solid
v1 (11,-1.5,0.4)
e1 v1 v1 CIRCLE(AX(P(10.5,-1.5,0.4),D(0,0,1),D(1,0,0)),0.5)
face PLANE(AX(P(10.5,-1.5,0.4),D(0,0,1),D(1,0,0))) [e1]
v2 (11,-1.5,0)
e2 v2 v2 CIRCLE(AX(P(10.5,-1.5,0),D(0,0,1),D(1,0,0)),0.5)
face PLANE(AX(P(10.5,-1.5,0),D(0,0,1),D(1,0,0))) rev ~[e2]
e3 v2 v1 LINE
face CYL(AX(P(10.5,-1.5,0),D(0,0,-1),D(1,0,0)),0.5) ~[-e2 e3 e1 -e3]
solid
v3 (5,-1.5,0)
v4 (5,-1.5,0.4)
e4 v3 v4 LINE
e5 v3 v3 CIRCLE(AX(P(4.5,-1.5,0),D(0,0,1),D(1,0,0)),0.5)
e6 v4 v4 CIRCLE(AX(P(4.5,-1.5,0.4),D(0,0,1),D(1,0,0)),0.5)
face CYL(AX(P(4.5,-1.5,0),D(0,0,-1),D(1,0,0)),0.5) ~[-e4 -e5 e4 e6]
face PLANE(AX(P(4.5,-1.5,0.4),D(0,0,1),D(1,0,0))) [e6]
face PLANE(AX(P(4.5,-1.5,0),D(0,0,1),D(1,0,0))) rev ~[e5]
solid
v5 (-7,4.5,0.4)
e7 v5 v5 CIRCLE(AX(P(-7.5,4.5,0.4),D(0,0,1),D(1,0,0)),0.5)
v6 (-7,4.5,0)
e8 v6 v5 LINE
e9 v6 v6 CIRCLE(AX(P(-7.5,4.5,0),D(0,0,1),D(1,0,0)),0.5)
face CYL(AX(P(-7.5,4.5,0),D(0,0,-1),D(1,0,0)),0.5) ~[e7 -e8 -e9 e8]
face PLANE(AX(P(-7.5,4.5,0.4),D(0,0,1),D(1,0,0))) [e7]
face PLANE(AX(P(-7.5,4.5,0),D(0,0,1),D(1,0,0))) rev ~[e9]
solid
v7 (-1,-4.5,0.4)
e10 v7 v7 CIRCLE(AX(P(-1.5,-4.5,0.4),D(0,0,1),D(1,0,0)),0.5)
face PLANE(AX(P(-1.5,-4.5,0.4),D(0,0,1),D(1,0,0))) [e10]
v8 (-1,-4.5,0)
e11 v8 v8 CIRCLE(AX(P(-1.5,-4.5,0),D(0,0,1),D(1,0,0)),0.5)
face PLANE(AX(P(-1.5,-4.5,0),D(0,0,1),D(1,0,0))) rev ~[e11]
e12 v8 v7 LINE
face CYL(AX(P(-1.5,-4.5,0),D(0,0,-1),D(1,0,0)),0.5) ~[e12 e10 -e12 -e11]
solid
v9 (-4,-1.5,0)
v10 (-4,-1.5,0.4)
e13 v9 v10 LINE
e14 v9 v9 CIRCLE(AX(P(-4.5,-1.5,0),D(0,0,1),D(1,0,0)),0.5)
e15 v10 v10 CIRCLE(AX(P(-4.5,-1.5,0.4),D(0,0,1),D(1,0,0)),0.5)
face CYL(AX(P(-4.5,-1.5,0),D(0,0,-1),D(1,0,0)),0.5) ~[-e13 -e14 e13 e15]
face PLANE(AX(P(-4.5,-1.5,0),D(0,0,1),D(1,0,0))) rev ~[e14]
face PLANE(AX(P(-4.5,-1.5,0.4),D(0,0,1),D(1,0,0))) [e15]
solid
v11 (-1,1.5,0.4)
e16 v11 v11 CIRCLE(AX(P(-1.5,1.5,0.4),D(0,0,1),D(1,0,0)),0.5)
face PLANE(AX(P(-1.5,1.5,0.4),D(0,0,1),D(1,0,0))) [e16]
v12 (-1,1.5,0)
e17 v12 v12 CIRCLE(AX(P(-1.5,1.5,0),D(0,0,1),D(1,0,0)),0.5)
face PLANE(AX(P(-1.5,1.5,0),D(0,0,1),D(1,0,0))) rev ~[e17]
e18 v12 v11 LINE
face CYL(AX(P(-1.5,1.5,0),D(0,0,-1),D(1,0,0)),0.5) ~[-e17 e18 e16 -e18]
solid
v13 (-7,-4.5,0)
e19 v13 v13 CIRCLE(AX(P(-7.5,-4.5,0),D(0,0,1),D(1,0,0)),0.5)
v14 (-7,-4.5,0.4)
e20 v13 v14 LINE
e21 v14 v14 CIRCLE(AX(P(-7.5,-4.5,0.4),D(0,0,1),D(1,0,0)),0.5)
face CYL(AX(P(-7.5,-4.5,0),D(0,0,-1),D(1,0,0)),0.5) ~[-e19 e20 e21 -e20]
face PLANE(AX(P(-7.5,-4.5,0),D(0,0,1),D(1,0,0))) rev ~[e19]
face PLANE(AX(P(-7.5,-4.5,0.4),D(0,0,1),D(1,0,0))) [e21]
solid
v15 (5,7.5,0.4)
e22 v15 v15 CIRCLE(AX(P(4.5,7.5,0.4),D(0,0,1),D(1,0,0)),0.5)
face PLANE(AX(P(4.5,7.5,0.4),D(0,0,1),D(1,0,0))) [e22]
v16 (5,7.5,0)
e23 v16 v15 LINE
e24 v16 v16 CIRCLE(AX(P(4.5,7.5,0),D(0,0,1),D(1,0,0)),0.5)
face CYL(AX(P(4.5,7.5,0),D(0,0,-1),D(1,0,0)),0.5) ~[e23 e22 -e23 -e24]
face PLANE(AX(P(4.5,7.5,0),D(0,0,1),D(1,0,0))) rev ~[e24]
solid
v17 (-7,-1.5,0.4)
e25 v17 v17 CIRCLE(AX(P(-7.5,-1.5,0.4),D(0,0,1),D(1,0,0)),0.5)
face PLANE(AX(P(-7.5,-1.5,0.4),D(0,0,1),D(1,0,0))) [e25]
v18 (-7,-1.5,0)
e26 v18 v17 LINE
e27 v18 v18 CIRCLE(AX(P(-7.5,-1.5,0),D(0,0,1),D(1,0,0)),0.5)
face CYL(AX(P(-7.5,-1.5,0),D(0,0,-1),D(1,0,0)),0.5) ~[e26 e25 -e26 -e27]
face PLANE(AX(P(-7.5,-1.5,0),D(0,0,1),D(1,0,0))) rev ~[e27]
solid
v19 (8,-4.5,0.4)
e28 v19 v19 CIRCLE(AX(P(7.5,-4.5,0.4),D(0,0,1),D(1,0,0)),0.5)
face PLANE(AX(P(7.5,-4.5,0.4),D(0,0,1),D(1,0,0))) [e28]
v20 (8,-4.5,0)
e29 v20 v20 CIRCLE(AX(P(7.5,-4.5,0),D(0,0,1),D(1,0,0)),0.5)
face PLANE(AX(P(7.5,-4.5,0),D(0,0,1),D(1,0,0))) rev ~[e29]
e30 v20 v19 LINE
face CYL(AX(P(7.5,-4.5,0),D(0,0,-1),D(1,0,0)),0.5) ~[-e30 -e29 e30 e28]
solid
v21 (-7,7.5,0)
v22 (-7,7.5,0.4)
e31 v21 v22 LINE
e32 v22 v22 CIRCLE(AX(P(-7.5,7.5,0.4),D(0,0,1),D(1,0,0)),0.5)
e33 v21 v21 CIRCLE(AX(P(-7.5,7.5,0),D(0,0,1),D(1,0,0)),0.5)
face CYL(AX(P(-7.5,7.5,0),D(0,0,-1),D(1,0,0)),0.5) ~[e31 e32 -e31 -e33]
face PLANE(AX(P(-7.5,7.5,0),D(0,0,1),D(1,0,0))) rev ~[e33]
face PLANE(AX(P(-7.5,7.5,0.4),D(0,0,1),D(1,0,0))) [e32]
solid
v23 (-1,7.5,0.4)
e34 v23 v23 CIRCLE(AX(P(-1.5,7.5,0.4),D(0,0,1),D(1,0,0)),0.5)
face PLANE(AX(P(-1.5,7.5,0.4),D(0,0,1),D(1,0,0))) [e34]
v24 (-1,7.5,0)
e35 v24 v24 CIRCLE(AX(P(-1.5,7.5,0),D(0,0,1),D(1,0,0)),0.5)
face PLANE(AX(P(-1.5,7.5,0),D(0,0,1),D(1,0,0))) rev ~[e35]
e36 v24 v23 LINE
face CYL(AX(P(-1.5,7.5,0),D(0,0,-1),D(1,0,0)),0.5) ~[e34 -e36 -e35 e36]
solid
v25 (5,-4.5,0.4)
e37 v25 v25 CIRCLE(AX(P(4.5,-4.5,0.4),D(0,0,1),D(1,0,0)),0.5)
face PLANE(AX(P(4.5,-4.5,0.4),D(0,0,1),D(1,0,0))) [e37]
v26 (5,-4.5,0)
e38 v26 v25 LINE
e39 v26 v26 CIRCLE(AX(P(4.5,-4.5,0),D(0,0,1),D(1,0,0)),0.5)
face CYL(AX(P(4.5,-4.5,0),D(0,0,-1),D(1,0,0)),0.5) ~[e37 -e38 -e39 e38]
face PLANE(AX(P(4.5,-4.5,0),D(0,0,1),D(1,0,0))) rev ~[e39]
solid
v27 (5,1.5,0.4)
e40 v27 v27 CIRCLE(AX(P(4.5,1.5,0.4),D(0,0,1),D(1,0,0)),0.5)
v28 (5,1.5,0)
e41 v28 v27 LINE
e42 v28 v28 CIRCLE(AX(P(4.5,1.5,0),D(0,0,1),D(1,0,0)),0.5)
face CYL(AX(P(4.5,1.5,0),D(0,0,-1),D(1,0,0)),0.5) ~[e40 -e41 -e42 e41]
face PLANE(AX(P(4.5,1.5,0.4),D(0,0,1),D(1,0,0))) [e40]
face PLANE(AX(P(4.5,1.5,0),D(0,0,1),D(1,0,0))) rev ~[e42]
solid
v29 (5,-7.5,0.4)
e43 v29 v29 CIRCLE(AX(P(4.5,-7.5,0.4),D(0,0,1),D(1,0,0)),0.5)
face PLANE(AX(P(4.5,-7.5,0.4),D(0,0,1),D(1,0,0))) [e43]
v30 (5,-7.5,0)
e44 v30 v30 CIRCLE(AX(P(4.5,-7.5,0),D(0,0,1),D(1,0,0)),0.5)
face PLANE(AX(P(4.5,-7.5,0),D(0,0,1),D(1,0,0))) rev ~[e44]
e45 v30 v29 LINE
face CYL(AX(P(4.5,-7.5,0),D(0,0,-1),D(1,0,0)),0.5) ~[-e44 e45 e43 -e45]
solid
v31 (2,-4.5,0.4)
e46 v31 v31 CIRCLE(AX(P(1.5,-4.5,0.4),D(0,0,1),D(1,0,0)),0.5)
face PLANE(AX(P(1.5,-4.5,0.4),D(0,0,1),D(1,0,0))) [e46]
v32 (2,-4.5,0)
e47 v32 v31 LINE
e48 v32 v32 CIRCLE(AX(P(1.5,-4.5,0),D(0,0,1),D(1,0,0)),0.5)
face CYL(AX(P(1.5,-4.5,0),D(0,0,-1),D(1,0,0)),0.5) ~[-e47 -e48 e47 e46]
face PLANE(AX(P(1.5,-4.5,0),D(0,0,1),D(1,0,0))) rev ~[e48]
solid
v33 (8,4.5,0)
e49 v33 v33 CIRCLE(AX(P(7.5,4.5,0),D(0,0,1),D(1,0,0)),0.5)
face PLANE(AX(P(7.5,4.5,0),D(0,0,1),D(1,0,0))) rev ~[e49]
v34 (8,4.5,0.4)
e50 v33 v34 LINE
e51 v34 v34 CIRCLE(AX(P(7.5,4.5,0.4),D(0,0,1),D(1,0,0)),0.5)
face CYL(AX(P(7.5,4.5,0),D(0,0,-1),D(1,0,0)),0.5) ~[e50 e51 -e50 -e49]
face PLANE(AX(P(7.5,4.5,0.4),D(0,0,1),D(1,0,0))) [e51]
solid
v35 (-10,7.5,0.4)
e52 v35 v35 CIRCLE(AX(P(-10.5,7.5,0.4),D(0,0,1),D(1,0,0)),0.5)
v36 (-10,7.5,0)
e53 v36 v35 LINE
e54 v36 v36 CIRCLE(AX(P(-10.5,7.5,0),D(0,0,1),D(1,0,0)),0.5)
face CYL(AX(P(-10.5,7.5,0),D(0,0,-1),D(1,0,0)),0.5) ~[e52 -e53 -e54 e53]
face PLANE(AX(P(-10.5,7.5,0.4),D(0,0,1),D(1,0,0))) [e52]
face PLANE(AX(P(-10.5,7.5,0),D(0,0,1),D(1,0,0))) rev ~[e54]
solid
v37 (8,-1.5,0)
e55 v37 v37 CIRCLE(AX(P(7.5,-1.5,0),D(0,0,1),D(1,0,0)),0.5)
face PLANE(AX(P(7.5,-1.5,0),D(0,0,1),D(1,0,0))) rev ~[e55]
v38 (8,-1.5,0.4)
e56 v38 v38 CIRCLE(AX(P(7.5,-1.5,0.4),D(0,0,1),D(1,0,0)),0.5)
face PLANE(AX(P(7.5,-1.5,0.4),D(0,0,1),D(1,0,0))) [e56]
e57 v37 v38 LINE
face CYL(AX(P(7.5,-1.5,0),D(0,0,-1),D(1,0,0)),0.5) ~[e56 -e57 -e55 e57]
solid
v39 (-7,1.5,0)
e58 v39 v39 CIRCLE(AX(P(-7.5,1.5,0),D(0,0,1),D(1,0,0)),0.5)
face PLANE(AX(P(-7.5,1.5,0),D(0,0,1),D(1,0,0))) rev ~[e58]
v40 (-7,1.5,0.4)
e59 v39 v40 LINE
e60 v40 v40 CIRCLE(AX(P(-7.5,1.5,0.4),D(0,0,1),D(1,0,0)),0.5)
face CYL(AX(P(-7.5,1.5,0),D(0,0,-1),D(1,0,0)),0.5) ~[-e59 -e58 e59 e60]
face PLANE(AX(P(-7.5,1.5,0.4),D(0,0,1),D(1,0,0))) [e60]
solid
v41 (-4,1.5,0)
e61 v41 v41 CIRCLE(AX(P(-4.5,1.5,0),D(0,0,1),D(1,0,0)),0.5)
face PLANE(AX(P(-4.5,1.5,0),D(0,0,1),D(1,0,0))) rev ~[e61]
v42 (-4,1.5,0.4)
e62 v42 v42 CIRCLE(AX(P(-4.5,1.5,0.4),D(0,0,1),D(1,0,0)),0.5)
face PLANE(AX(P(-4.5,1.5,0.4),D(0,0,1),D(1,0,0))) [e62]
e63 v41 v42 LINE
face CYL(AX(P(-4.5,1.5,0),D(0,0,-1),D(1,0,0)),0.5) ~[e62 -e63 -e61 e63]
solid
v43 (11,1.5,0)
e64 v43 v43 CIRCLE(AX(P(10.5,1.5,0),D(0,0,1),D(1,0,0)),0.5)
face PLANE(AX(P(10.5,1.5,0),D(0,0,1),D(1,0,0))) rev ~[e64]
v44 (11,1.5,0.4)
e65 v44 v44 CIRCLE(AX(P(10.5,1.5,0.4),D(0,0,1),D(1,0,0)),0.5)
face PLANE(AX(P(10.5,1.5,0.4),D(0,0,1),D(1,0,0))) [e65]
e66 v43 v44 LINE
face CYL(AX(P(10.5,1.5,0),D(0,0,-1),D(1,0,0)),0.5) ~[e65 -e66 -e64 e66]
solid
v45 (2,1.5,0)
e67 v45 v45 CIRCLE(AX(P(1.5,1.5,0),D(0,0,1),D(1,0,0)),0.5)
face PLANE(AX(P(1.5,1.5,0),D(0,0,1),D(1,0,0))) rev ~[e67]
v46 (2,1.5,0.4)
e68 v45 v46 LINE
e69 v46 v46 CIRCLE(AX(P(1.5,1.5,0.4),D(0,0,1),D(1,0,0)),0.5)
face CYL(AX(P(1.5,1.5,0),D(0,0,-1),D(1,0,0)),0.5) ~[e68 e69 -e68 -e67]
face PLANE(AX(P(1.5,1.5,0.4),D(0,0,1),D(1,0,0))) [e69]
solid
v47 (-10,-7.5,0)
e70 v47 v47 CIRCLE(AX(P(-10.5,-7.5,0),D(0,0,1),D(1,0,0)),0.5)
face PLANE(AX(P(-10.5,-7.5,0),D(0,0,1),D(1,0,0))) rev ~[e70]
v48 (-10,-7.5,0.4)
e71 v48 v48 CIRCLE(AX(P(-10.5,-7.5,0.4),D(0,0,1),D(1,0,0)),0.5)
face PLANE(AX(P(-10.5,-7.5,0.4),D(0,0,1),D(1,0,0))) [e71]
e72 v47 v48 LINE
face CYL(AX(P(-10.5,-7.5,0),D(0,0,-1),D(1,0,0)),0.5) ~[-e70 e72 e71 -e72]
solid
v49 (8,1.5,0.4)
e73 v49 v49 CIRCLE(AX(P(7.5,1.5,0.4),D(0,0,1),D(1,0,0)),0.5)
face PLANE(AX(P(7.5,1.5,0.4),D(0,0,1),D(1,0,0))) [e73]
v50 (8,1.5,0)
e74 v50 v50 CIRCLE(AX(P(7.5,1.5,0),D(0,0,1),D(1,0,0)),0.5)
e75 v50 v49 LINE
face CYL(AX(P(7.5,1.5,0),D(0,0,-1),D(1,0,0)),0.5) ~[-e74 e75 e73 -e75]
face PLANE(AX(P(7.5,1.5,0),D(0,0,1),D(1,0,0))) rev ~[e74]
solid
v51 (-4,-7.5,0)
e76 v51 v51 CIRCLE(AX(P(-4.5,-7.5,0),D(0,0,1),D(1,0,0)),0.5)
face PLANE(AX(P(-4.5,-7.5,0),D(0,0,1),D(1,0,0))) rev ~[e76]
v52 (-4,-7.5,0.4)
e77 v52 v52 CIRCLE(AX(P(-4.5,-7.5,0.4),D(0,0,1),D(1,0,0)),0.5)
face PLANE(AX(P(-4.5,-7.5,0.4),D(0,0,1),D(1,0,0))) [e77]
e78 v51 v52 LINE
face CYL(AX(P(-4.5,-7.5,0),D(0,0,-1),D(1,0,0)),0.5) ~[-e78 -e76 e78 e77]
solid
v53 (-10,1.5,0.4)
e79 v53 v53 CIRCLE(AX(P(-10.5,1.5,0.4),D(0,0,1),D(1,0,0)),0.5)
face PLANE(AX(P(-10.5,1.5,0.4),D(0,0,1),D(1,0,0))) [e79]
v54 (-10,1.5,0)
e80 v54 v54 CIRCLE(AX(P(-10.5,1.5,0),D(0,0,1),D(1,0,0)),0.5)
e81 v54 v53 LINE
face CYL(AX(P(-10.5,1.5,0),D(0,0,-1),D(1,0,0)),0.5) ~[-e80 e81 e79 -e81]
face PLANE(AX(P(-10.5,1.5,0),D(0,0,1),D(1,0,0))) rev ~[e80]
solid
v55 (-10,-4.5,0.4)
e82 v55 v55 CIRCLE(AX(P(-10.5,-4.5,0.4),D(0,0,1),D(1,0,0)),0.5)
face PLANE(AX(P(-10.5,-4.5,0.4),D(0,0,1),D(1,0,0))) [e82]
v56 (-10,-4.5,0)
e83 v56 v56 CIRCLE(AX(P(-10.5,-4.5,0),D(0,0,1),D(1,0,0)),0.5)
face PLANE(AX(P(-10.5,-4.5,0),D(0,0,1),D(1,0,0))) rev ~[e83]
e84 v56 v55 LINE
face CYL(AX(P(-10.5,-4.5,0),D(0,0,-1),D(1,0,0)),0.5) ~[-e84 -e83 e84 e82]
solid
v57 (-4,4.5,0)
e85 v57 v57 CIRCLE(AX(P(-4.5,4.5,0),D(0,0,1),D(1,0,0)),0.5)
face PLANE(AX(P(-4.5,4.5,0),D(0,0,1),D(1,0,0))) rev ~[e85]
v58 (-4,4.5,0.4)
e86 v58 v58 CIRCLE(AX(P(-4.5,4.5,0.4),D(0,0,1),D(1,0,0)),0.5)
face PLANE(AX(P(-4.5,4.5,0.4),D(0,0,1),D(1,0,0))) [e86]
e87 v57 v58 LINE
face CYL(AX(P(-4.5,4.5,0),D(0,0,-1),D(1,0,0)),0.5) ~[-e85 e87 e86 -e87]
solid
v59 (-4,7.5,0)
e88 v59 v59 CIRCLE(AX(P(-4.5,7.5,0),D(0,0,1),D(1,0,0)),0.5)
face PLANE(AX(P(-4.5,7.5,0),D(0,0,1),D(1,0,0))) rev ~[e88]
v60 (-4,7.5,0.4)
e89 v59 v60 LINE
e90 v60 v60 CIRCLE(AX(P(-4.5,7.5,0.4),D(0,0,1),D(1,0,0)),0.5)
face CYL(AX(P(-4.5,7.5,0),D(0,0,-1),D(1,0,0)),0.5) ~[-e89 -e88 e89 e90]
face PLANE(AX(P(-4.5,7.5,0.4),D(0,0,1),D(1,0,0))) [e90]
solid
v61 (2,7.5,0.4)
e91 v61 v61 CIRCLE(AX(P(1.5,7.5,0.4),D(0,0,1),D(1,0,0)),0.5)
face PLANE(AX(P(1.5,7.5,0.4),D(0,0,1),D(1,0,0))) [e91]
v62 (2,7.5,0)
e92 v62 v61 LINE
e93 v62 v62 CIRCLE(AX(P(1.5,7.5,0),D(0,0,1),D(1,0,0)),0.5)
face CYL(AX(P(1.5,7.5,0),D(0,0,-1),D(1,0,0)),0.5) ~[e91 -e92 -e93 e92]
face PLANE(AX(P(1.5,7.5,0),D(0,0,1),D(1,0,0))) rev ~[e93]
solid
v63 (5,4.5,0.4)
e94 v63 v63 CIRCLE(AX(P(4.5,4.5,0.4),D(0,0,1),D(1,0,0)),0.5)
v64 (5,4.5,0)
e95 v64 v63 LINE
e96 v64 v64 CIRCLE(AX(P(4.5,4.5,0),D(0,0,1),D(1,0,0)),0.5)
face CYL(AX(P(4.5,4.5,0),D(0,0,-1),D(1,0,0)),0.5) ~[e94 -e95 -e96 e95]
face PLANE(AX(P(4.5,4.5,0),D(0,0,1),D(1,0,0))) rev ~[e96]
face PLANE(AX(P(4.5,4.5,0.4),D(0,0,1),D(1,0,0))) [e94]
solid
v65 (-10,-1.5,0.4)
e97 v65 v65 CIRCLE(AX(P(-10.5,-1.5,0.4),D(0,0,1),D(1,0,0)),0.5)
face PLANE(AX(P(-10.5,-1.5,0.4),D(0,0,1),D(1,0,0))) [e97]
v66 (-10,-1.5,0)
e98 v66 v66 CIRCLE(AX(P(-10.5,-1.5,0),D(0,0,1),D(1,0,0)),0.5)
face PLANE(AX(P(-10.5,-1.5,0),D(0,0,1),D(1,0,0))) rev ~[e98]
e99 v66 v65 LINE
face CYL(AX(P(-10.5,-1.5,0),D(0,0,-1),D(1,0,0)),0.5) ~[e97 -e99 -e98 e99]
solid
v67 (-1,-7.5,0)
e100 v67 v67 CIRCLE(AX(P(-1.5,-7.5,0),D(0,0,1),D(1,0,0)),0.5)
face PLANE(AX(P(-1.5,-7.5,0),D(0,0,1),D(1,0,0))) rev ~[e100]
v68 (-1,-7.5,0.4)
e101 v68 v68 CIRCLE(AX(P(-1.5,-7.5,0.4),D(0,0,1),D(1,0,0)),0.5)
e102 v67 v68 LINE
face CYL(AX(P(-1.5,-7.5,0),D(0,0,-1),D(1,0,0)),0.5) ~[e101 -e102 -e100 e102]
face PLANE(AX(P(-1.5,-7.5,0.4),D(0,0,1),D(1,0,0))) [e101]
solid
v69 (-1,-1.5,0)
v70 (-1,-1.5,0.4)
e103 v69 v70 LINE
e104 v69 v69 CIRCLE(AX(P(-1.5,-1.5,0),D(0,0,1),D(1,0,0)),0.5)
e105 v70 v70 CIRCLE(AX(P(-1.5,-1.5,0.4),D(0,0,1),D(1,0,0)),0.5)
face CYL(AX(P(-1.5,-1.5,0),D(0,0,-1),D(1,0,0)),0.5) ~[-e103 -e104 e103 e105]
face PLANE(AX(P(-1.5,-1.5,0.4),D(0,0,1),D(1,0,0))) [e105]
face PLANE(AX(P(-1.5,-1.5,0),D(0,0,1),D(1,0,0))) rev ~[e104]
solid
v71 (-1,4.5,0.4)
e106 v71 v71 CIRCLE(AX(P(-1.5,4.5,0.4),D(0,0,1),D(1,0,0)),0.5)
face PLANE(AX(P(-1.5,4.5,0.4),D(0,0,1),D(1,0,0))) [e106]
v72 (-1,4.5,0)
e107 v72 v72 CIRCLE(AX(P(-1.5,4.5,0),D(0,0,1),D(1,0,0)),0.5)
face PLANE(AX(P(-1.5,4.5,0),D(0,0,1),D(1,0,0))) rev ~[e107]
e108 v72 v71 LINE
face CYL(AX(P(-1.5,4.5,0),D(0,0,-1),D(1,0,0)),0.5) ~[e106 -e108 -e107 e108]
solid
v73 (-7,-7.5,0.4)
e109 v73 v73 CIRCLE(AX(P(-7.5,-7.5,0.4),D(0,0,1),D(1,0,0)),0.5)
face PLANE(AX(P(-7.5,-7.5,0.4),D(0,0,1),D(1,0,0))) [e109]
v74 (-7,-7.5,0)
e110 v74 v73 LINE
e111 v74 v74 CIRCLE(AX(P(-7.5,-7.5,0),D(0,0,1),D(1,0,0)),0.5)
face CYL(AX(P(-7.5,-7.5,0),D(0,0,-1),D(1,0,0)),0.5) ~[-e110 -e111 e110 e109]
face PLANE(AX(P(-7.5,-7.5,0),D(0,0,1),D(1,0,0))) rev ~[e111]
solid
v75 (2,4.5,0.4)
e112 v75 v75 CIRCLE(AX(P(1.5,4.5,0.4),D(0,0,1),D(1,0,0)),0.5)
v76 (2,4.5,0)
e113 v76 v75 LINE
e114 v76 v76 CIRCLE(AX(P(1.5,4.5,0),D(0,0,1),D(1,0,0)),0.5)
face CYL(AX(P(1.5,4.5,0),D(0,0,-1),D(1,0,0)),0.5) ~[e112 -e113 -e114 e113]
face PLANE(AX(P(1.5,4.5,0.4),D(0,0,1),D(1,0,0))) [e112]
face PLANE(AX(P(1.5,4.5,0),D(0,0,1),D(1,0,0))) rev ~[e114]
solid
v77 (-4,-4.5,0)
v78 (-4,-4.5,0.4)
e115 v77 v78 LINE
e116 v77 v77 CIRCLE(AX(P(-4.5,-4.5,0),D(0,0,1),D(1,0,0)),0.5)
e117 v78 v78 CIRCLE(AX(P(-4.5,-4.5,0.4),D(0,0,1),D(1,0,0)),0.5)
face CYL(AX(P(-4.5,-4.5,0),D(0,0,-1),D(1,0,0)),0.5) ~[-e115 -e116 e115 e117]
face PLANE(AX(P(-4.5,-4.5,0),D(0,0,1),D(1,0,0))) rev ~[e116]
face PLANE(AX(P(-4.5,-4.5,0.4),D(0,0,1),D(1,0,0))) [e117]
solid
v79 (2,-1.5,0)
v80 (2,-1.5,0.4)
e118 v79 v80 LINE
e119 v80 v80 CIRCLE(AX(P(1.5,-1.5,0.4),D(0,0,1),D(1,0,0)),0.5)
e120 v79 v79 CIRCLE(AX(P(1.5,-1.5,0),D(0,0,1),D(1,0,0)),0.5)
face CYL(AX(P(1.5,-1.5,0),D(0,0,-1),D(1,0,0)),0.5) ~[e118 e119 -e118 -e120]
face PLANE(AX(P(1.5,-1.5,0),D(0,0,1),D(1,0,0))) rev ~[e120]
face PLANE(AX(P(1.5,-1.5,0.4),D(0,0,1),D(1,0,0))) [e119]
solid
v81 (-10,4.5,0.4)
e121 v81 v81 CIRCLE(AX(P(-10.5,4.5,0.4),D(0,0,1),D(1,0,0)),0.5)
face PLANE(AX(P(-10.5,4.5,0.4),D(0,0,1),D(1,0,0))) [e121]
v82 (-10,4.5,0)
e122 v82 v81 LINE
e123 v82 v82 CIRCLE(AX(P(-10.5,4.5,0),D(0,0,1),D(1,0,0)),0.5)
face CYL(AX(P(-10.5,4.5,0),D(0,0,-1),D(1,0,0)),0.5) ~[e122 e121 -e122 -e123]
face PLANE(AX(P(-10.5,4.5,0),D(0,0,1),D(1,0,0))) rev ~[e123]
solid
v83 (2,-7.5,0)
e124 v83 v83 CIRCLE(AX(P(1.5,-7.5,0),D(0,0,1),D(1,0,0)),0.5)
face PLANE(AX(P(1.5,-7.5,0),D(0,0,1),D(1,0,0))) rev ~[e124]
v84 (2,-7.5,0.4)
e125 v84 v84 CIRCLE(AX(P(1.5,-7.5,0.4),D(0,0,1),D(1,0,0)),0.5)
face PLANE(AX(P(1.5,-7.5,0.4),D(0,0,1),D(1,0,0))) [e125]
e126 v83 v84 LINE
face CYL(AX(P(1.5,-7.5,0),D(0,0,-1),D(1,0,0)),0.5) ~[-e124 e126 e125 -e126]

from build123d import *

# Parameters (mm, degrees)
SKETCH_1_R         = 0.5
EXTRUDE_1_DEPTH    = 0.4
EXTRUDE_1_2_DEPTH  = 0.4
EXTRUDE_1_3_DEPTH  = 0.4
EXTRUDE_1_4_DEPTH  = 0.4
EXTRUDE_1_5_DEPTH  = 0.4
EXTRUDE_1_6_DEPTH  = 0.4
EXTRUDE_1_7_DEPTH  = 0.4
EXTRUDE_1_8_DEPTH  = 0.4
EXTRUDE_1_9_DEPTH  = 0.4
EXTRUDE_1_10_DEPTH = 0.4
EXTRUDE_1_11_DEPTH = 0.4
EXTRUDE_1_12_DEPTH = 0.4
EXTRUDE_1_13_DEPTH = 0.4
EXTRUDE_1_14_DEPTH = 0.4
EXTRUDE_1_15_DEPTH = 0.4
EXTRUDE_1_16_DEPTH = 0.4
EXTRUDE_1_17_DEPTH = 0.4
EXTRUDE_1_18_DEPTH = 0.4
EXTRUDE_1_19_DEPTH = 0.4
EXTRUDE_1_20_DEPTH = 0.4
EXTRUDE_1_21_DEPTH = 0.4
EXTRUDE_1_22_DEPTH = 0.4
EXTRUDE_1_23_DEPTH = 0.4
EXTRUDE_1_24_DEPTH = 0.4
EXTRUDE_1_25_DEPTH = 0.4
EXTRUDE_1_26_DEPTH = 0.4
EXTRUDE_1_27_DEPTH = 0.4
EXTRUDE_1_28_DEPTH = 0.4
EXTRUDE_1_29_DEPTH = 0.4
EXTRUDE_1_30_DEPTH = 0.4
EXTRUDE_1_31_DEPTH = 0.4
EXTRUDE_1_32_DEPTH = 0.4
EXTRUDE_1_33_DEPTH = 0.4
EXTRUDE_1_34_DEPTH = 0.4
EXTRUDE_1_35_DEPTH = 0.4
EXTRUDE_1_36_DEPTH = 0.4
EXTRUDE_1_37_DEPTH = 0.4
EXTRUDE_1_38_DEPTH = 0.4
EXTRUDE_1_39_DEPTH = 0.4
EXTRUDE_1_40_DEPTH = 0.4
EXTRUDE_1_41_DEPTH = 0.4
EXTRUDE_1_42_DEPTH = 0.4


with BuildPart() as part:
    # 草图1 → 凸台-拉伸1 (new body)
    with BuildSketch(Plane.XY):
        with Locations((-4.5, 1.5)):
            Circle(SKETCH_1_R)
    extrude(amount=EXTRUDE_1_DEPTH)


with BuildPart() as body_2:
    # 草图1 → Extrude 1 2 (new body)
    with BuildSketch(Plane.XY):
        with Locations((-1.5, 1.5)):
            Circle(SKETCH_1_R)
    extrude(amount=EXTRUDE_1_2_DEPTH)


with BuildPart() as body_3:
    # 草图1 → Extrude 1 3 (new body)
    with BuildSketch(Plane.XY):
        with Locations((1.5, 1.5)):
            Circle(SKETCH_1_R)
    extrude(amount=EXTRUDE_1_3_DEPTH)


with BuildPart() as body_4:
    # 草图1 → Extrude 1 4 (new body)
    with BuildSketch(Plane.XY):
        with Locations((4.5, 1.5)):
            Circle(SKETCH_1_R)
    extrude(amount=EXTRUDE_1_4_DEPTH)


with BuildPart() as body_5:
    # 草图1 → Extrude 1 5 (new body)
    with BuildSketch(Plane.XY):
        with Locations((7.5, 1.5)):
            Circle(SKETCH_1_R)
    extrude(amount=EXTRUDE_1_5_DEPTH)


with BuildPart() as body_6:
    # 草图1 → Extrude 1 6 (new body)
    with BuildSketch(Plane.XY):
        with Locations((10.5, 1.5)):
            Circle(SKETCH_1_R)
    extrude(amount=EXTRUDE_1_6_DEPTH)


with BuildPart() as body_7:
    # 草图1 → Extrude 1 7 (new body)
    with BuildSketch(Plane.XY):
        with Locations((10.5, -1.5)):
            Circle(SKETCH_1_R)
    extrude(amount=EXTRUDE_1_7_DEPTH)


with BuildPart() as body_8:
    # 草图1 → Extrude 1 8 (new body)
    with BuildSketch(Plane.XY):
        with Locations((7.5, -1.5)):
            Circle(SKETCH_1_R)
    extrude(amount=EXTRUDE_1_8_DEPTH)


with BuildPart() as body_9:
    # 草图1 → Extrude 1 9 (new body)
    with BuildSketch(Plane.XY):
        with Locations((-10.5, 7.5)):
            Circle(SKETCH_1_R)
    extrude(amount=EXTRUDE_1_9_DEPTH)


with BuildPart() as body_10:
    # 草图1 → Extrude 1 10 (new body)
    with BuildSketch(Plane.XY):
        with Locations((-1.5, 7.5)):
            Circle(SKETCH_1_R)
    extrude(amount=EXTRUDE_1_10_DEPTH)


with BuildPart() as body_11:
    # 草图1 → Extrude 1 11 (new body)
    with BuildSketch(Plane.XY):
        with Locations((1.5, 7.5)):
            Circle(SKETCH_1_R)
    extrude(amount=EXTRUDE_1_11_DEPTH)


with BuildPart() as body_12:
    # 草图1 → Extrude 1 12 (new body)
    with BuildSketch(Plane.XY):
        with Locations((4.5, 7.5)):
            Circle(SKETCH_1_R)
    extrude(amount=EXTRUDE_1_12_DEPTH)


with BuildPart() as body_13:
    # 草图1 → Extrude 1 13 (new body)
    with BuildSketch(Plane.XY):
        with Locations((-10.5, 1.5)):
            Circle(SKETCH_1_R)
    extrude(amount=EXTRUDE_1_13_DEPTH)


with BuildPart() as body_14:
    # 草图1 → Extrude 1 14 (new body)
    with BuildSketch(Plane.XY):
        with Locations((-10.5, 4.5)):
            Circle(SKETCH_1_R)
    extrude(amount=EXTRUDE_1_14_DEPTH)


with BuildPart() as body_15:
    # 草图1 → Extrude 1 15 (new body)
    with BuildSketch(Plane.XY):
        with Locations((-10.5, -1.5)):
            Circle(SKETCH_1_R)
    extrude(amount=EXTRUDE_1_15_DEPTH)


with BuildPart() as body_16:
    # 草图1 → Extrude 1 16 (new body)
    with BuildSketch(Plane.XY):
        with Locations((-10.5, -4.5)):
            Circle(SKETCH_1_R)
    extrude(amount=EXTRUDE_1_16_DEPTH)


with BuildPart() as body_17:
    # 草图1 → Extrude 1 17 (new body)
    with BuildSketch(Plane.XY):
        with Locations((-10.5, -7.5)):
            Circle(SKETCH_1_R)
    extrude(amount=EXTRUDE_1_17_DEPTH)


with BuildPart() as body_18:
    # 草图1 → Extrude 1 18 (new body)
    with BuildSketch(Plane.XY):
        with Locations((-7.5, -7.5)):
            Circle(SKETCH_1_R)
    extrude(amount=EXTRUDE_1_18_DEPTH)


with BuildPart() as body_19:
    # 草图1 → Extrude 1 19 (new body)
    with BuildSketch(Plane.XY):
        with Locations((-7.5, -4.5)):
            Circle(SKETCH_1_R)
    extrude(amount=EXTRUDE_1_19_DEPTH)


with BuildPart() as body_20:
    # 草图1 → Extrude 1 20 (new body)
    with BuildSketch(Plane.XY):
        with Locations((-7.5, -1.5)):
            Circle(SKETCH_1_R)
    extrude(amount=EXTRUDE_1_20_DEPTH)


with BuildPart() as body_21:
    # 草图1 → Extrude 1 21 (new body)
    with BuildSketch(Plane.XY):
        with Locations((-7.5, 1.5)):
            Circle(SKETCH_1_R)
    extrude(amount=EXTRUDE_1_21_DEPTH)


with BuildPart() as body_22:
    # 草图1 → Extrude 1 22 (new body)
    with BuildSketch(Plane.XY):
        with Locations((-7.5, 4.5)):
            Circle(SKETCH_1_R)
    extrude(amount=EXTRUDE_1_22_DEPTH)


with BuildPart() as body_23:
    # 草图1 → Extrude 1 23 (new body)
    with BuildSketch(Plane.XY):
        with Locations((-4.5, 4.5)):
            Circle(SKETCH_1_R)
    extrude(amount=EXTRUDE_1_23_DEPTH)


with BuildPart() as body_24:
    # 草图1 → Extrude 1 24 (new body)
    with BuildSketch(Plane.XY):
        with Locations((-1.5, 4.5)):
            Circle(SKETCH_1_R)
    extrude(amount=EXTRUDE_1_24_DEPTH)


with BuildPart() as body_25:
    # 草图1 → Extrude 1 25 (new body)
    with BuildSketch(Plane.XY):
        with Locations((1.5, 4.5)):
            Circle(SKETCH_1_R)
    extrude(amount=EXTRUDE_1_25_DEPTH)


with BuildPart() as body_26:
    # 草图1 → Extrude 1 26 (new body)
    with BuildSketch(Plane.XY):
        with Locations((7.5, 4.5)):
            Circle(SKETCH_1_R)
    extrude(amount=EXTRUDE_1_26_DEPTH)


with BuildPart() as body_27:
    # 草图1 → Extrude 1 27 (new body)
    with BuildSketch(Plane.XY):
        with Locations((1.5, -1.5)):
            Circle(SKETCH_1_R)
    extrude(amount=EXTRUDE_1_27_DEPTH)


with BuildPart() as body_28:
    # 草图1 → Extrude 1 28 (new body)
    with BuildSketch(Plane.XY):
        with Locations((-1.5, -1.5)):
            Circle(SKETCH_1_R)
    extrude(amount=EXTRUDE_1_28_DEPTH)


with BuildPart() as body_29:
    # 草图1 → Extrude 1 29 (new body)
    with BuildSketch(Plane.XY):
        with Locations((-4.5, -1.5)):
            Circle(SKETCH_1_R)
    extrude(amount=EXTRUDE_1_29_DEPTH)


with BuildPart() as body_30:
    # 草图1 → Extrude 1 30 (new body)
    with BuildSketch(Plane.XY):
        with Locations((-4.5, -4.5)):
            Circle(SKETCH_1_R)
    extrude(amount=EXTRUDE_1_30_DEPTH)


with BuildPart() as body_31:
    # 草图1 → Extrude 1 31 (new body)
    with BuildSketch(Plane.XY):
        with Locations((-1.5, -4.5)):
            Circle(SKETCH_1_R)
    extrude(amount=EXTRUDE_1_31_DEPTH)


with BuildPart() as body_32:
    # 草图1 → Extrude 1 32 (new body)
    with BuildSketch(Plane.XY):
        with Locations((-4.5, -7.5)):
            Circle(SKETCH_1_R)
    extrude(amount=EXTRUDE_1_32_DEPTH)


with BuildPart() as body_33:
    # 草图1 → Extrude 1 33 (new body)
    with BuildSketch(Plane.XY):
        with Locations((-1.5, -7.5)):
            Circle(SKETCH_1_R)
    extrude(amount=EXTRUDE_1_33_DEPTH)


with BuildPart() as body_34:
    # 草图1 → Extrude 1 34 (new body)
    with BuildSketch(Plane.XY):
        with Locations((1.5, -7.5)):
            Circle(SKETCH_1_R)
    extrude(amount=EXTRUDE_1_34_DEPTH)


with BuildPart() as body_35:
    # 草图1 → Extrude 1 35 (new body)
    with BuildSketch(Plane.XY):
        with Locations((4.5, -7.5)):
            Circle(SKETCH_1_R)
    extrude(amount=EXTRUDE_1_35_DEPTH)


with BuildPart() as body_36:
    # 草图1 → Extrude 1 36 (new body)
    with BuildSketch(Plane.XY):
        with Locations((4.5, -4.5)):
            Circle(SKETCH_1_R)
    extrude(amount=EXTRUDE_1_36_DEPTH)


with BuildPart() as body_37:
    # 草图1 → Extrude 1 37 (new body)
    with BuildSketch(Plane.XY):
        with Locations((7.5, -4.5)):
            Circle(SKETCH_1_R)
    extrude(amount=EXTRUDE_1_37_DEPTH)


with BuildPart() as body_38:
    # 草图1 → Extrude 1 38 (new body)
    with BuildSketch(Plane.XY):
        with Locations((4.5, -1.5)):
            Circle(SKETCH_1_R)
    extrude(amount=EXTRUDE_1_38_DEPTH)


with BuildPart() as body_39:
    # 草图1 → Extrude 1 39 (new body)
    with BuildSketch(Plane.XY):
        with Locations((-7.5, 7.5)):
            Circle(SKETCH_1_R)
    extrude(amount=EXTRUDE_1_39_DEPTH)


with BuildPart() as body_40:
    # 草图1 → Extrude 1 40 (new body)
    with BuildSketch(Plane.XY):
        with Locations((-4.5, 7.5)):
            Circle(SKETCH_1_R)
    extrude(amount=EXTRUDE_1_40_DEPTH)


with BuildPart() as body_41:
    # 草图1 → Extrude 1 41 (new body)
    with BuildSketch(Plane.XY):
        with Locations((4.5, 4.5)):
            Circle(SKETCH_1_R)
    extrude(amount=EXTRUDE_1_41_DEPTH)


with BuildPart() as body_42:
    # 草图1 → Extrude 1 42 (new body)
    with BuildSketch(Plane.XY):
        with Locations((1.5, -4.5)):
            Circle(SKETCH_1_R)
    extrude(amount=EXTRUDE_1_42_DEPTH)


solid = Compound([part.part, body_2.part, body_3.part, body_4.part, body_5.part, body_6.part, body_7.part, body_8.part, body_9.part, body_10.part, body_11.part, body_12.part, body_13.part, body_14.part, body_15.part, body_16.part, body_17.part, body_18.part, body_19.part, body_20.part, body_21.part, body_22.part, body_23.part, body_24.part, body_25.part, body_26.part, body_27.part, body_28.part, body_29.part, body_30.part, body_31.part, body_32.part, body_33.part, body_34.part, body_35.part, body_36.part, body_37.part, body_38.part, body_39.part, body_40.part, body_41.part, body_42.part])
